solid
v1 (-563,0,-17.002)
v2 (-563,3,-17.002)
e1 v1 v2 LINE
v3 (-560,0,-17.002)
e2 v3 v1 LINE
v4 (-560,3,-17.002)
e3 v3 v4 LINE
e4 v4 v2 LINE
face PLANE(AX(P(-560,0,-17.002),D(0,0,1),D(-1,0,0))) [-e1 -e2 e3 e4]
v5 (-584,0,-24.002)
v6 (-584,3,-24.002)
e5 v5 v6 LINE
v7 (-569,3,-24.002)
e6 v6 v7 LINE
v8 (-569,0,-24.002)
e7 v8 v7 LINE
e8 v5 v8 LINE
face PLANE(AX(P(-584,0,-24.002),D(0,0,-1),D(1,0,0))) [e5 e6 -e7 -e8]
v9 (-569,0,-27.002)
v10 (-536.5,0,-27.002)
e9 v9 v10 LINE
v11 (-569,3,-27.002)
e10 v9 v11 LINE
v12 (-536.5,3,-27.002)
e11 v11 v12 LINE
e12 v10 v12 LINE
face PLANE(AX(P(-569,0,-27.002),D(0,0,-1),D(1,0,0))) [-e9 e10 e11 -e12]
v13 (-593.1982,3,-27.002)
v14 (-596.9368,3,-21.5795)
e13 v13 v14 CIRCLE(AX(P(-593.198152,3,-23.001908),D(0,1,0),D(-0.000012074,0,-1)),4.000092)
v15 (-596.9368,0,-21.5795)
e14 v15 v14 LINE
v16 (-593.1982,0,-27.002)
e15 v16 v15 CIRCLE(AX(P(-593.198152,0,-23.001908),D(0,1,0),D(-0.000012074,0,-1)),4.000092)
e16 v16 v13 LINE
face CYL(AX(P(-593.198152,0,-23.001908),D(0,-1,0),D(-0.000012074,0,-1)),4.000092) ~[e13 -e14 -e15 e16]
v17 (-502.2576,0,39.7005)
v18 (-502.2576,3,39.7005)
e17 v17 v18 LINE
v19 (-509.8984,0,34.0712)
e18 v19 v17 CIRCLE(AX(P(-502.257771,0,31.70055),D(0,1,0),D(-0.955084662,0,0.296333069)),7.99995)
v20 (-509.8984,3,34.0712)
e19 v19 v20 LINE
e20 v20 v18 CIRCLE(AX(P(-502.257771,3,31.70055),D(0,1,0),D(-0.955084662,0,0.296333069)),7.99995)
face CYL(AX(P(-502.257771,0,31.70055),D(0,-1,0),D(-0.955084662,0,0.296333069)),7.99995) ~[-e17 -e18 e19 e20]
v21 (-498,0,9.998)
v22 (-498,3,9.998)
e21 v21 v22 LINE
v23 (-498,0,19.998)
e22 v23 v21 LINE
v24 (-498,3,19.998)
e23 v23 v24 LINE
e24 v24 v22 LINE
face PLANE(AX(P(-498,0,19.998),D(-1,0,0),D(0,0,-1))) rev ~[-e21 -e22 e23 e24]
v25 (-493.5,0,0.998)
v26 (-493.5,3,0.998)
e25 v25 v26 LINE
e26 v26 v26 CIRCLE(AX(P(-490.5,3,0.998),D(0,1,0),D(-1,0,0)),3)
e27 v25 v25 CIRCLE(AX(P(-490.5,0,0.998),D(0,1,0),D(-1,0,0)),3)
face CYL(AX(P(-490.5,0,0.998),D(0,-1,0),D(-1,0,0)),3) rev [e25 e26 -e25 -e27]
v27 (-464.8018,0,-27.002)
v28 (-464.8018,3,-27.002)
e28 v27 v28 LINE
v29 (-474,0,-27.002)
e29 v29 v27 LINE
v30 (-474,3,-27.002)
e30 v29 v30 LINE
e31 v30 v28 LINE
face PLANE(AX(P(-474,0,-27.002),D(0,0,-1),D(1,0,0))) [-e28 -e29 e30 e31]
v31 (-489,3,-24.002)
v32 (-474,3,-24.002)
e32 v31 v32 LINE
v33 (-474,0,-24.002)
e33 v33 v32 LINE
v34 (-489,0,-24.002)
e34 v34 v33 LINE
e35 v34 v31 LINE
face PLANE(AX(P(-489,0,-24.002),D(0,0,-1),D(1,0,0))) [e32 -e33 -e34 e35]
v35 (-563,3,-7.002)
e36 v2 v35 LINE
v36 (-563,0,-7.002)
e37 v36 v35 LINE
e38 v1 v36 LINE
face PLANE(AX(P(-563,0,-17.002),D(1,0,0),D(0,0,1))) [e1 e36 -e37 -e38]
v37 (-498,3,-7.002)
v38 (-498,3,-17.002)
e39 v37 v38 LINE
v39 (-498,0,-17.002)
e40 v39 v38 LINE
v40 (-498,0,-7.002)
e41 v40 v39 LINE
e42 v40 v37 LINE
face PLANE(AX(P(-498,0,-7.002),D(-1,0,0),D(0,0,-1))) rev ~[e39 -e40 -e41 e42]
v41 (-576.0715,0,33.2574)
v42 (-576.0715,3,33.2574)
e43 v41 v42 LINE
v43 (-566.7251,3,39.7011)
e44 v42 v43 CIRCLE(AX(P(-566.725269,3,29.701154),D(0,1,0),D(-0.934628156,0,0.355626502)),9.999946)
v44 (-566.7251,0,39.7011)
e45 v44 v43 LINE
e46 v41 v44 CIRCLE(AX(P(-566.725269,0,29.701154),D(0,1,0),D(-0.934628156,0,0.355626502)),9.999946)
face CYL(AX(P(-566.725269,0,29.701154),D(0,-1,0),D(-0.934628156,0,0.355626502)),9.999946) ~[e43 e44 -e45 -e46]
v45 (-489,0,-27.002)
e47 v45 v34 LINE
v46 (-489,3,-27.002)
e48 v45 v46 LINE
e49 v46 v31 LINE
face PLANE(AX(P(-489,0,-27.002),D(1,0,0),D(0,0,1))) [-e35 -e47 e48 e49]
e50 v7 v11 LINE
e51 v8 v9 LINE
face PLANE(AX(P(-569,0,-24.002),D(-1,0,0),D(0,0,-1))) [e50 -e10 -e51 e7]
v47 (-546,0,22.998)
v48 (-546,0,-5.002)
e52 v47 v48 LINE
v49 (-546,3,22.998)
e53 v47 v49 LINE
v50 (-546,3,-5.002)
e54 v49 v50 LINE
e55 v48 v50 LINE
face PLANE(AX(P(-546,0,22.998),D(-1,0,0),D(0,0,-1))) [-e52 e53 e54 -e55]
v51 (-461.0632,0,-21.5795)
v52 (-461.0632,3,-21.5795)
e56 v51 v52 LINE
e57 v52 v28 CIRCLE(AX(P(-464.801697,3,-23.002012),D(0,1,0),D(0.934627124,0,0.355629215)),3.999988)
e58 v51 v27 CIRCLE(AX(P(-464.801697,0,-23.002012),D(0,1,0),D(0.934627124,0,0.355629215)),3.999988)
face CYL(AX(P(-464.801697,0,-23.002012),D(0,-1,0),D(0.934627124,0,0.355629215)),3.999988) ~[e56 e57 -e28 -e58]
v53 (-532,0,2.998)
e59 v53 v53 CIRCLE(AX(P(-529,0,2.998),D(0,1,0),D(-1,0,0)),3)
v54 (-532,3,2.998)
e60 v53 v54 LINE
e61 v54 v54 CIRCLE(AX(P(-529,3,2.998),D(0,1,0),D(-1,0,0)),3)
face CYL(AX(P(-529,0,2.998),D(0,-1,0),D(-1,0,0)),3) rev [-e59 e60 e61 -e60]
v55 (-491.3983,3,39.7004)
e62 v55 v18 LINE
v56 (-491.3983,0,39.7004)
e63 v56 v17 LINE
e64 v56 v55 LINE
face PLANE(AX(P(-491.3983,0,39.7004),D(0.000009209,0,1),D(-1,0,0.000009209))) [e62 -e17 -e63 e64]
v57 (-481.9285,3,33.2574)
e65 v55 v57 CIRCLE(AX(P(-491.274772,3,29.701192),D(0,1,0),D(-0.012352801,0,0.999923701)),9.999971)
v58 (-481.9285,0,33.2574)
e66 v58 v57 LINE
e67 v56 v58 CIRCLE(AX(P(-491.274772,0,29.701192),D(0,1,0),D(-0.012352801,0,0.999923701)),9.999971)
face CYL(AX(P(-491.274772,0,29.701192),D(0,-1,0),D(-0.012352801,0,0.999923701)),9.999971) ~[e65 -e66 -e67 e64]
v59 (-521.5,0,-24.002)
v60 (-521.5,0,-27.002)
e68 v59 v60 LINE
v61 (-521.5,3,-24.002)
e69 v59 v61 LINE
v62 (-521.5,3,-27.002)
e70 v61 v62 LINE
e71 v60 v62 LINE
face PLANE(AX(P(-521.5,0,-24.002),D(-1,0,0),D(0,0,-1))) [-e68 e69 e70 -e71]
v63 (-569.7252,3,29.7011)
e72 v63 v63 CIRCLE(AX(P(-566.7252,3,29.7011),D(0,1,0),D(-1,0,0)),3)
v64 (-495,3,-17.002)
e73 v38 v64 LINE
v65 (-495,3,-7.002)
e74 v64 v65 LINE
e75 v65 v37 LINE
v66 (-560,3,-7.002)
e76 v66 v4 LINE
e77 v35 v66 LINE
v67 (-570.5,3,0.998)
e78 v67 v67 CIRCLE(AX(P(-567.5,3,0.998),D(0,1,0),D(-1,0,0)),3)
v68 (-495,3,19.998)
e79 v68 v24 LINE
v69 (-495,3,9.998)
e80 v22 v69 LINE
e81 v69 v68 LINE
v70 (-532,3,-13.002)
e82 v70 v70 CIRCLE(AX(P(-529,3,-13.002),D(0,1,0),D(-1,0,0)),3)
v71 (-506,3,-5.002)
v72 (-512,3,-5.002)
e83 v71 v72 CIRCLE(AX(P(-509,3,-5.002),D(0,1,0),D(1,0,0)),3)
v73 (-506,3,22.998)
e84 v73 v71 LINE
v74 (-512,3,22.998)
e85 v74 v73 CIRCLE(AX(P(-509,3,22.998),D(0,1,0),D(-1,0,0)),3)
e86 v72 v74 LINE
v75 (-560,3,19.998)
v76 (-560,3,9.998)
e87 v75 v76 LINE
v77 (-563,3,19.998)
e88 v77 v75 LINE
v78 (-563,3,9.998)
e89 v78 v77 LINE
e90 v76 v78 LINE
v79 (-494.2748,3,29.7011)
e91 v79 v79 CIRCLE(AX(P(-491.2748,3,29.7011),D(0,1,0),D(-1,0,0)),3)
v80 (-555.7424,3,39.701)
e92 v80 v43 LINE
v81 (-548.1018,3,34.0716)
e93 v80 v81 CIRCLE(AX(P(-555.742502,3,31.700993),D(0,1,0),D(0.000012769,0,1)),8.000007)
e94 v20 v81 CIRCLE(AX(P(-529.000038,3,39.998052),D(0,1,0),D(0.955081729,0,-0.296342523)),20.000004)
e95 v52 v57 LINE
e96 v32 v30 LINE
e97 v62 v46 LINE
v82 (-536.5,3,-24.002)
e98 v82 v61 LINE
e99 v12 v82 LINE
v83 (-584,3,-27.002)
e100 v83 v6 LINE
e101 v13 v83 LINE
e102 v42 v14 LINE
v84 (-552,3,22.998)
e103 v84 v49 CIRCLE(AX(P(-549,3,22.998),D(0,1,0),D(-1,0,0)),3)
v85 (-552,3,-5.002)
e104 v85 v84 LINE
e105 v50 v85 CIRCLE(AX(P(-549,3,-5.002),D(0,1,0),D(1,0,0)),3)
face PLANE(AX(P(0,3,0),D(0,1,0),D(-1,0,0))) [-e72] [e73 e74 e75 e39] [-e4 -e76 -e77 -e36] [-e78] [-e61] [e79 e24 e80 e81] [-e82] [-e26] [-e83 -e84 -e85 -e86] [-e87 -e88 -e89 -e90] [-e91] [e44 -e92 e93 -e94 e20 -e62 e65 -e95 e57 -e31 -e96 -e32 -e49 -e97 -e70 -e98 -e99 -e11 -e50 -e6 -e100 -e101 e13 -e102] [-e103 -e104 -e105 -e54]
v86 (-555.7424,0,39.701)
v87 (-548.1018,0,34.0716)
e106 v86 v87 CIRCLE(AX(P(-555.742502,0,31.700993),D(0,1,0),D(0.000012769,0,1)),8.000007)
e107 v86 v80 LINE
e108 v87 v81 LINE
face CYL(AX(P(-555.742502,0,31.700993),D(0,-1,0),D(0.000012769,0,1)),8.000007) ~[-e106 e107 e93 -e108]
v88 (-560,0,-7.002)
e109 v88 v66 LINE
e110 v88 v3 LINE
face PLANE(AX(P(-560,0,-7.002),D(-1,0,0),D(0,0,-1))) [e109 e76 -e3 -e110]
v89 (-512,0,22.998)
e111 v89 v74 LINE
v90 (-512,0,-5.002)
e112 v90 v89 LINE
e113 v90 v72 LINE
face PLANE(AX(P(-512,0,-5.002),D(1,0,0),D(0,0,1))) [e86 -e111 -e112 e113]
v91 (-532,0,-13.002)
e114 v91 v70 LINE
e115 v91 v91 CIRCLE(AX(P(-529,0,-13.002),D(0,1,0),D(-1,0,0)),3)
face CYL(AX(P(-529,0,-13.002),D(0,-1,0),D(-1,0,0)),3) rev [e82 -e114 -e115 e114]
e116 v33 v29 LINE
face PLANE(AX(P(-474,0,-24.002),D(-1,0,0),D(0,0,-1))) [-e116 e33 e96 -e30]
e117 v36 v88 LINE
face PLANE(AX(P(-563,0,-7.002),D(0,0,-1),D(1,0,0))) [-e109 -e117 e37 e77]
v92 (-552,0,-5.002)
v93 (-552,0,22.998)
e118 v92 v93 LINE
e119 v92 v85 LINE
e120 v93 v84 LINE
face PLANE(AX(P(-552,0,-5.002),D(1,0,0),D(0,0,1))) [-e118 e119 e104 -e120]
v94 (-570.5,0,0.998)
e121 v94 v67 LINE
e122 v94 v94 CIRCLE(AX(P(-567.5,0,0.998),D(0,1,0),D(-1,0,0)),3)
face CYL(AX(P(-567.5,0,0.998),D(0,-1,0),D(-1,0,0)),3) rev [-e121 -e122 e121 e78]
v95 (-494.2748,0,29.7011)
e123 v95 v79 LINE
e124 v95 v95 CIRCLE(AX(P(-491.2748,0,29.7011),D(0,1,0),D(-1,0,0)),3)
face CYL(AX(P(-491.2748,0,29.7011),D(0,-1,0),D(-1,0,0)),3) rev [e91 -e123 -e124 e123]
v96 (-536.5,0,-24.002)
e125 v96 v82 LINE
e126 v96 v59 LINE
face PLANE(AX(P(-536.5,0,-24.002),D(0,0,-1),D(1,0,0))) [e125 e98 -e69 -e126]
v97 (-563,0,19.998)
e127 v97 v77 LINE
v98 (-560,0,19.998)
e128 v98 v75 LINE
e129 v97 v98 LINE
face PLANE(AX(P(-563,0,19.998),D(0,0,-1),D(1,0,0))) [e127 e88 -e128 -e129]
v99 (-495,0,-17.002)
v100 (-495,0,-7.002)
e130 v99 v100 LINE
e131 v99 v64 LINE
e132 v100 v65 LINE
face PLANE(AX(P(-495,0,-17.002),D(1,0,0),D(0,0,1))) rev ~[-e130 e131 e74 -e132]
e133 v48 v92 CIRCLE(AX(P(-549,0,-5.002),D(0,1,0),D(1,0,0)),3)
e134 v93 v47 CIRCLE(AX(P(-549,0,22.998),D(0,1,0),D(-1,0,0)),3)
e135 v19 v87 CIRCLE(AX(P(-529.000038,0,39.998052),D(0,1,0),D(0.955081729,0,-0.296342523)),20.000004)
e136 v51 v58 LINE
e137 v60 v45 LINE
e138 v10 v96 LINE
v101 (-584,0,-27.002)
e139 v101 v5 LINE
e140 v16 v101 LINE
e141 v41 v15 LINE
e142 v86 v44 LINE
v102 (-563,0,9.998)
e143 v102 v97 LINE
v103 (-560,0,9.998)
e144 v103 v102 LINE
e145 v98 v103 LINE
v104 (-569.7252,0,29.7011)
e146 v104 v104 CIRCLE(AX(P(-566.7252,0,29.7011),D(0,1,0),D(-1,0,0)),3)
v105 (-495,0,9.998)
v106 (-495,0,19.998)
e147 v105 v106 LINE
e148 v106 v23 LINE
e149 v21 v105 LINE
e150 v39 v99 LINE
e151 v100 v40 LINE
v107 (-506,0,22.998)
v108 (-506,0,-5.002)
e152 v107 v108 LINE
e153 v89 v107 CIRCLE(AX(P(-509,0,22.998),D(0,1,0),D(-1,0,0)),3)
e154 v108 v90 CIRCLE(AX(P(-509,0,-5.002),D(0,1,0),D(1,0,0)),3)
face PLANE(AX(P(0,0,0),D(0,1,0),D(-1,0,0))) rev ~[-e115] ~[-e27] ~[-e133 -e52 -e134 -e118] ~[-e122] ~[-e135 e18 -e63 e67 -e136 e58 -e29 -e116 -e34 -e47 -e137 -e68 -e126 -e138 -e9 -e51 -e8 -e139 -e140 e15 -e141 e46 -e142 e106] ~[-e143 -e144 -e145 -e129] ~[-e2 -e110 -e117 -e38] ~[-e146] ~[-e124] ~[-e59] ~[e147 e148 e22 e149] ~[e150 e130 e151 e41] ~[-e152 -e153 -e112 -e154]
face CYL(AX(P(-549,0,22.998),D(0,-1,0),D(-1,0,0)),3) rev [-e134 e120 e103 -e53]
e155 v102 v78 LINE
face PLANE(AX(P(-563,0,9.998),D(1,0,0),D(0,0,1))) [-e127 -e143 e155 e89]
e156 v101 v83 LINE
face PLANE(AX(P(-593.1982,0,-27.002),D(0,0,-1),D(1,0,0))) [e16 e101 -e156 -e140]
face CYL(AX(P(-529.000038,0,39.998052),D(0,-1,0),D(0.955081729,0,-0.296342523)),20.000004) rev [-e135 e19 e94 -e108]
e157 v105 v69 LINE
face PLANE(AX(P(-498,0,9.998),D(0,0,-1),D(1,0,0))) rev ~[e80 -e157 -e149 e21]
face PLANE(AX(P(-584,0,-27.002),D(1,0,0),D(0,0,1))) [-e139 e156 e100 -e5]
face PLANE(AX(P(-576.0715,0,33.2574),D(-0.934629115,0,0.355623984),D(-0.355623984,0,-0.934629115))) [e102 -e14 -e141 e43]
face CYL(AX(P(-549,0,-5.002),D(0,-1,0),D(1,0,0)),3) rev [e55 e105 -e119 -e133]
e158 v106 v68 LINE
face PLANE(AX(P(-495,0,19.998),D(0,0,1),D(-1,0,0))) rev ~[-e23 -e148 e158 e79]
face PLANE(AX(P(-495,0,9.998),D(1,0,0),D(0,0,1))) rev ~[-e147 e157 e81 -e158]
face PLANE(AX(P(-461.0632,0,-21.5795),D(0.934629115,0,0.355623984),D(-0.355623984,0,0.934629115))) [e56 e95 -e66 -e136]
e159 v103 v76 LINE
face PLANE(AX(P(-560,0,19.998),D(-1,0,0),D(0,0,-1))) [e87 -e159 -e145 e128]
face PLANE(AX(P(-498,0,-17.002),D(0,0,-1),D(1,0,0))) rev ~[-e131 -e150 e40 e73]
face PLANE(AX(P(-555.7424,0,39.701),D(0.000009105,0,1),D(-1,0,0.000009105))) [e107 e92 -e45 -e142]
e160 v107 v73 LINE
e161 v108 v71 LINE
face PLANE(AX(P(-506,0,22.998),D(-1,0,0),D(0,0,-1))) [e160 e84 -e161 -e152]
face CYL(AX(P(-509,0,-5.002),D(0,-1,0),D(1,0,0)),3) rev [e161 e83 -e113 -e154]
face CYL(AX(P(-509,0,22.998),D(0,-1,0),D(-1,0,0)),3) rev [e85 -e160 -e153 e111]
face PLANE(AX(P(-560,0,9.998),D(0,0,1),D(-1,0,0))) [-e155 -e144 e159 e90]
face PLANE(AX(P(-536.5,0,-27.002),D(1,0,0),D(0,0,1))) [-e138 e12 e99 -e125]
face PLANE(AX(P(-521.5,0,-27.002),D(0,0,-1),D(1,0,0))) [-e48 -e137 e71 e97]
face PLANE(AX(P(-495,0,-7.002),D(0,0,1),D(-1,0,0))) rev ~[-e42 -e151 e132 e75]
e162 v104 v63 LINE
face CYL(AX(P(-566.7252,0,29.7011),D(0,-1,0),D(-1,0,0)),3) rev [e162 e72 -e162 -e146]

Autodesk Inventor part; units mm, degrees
ref_plane "YZ Plane" through (0, 0, 0) normal (1, 0, 0) x (0, 1, 0)
ref_plane "XZ Plane" through (0, 0, 0) normal (0, 1, 0) x (-1, 0, 0)
ref_plane "XY Plane" through (0, 0, 0) normal (0, 0, 1) x (1, 0, 0)
sketch "Sketch2" plane through (0, 0, 0) normal (0, 1, 0) x (-1, 0, 0)
  line L0 (600, 68.7059) -> (634, 68.7059)
  arc A0 (642, 60.7059) -> (634, 68.7059) centre (634, 60.7059) ccw
  line L1 (642, 60.7059) -> (642, 56.7059)
  arc A1 (634, 48.7059) -> (642, 56.7059) centre (634, 56.7059) ccw
  line L2 (634, 48.7059) -> (632, 48.7059)
  arc A2 (632, 48.7059) -> (624, 40.7059) centre (632, 40.7059) ccw
  line L3 (624, 40.7059) -> (624, 36.7059)
  arc A3 (624, 36.7059) -> (632, 28.7059) centre (632, 36.7059) ccw
  line L4 (632, 28.7059) -> (634, 28.7059)
  arc A4 (642, 20.7059) -> (634, 28.7059) centre (634, 20.7059) ccw
  line L5 (642, 20.7059) -> (642, 16.7059)
  arc A5 (634, 8.7059) -> (642, 16.7059) centre (634, 16.7059) ccw
  line L6 (634, 8.7059) -> (600, 8.7059)
  arc A6 (592, 16.7059) -> (600, 8.7059) centre (600, 16.7059) ccw
  line L7 (592, 16.7059) -> (592, 21.7059)
  line L8 (592, 21.7059) -> (606.1716, 35.8774)
  arc A7 (606.1716, 35.8774) -> (606.1716, 41.5343) centre (603.3431, 38.7059) ccw
  line L9 (606.1716, -97.5343) -> (592, -111.7059)
  line L10 (592, -111.7059) -> (592, -116.7059)
  arc A8 (592, -116.7059) -> (600, -124.7059) centre (600, -116.7059) ccw
  line L11 (600, -124.7059) -> (634, -124.7059)
  arc A9 (634, -124.7059) -> (642, -116.7059) centre (634, -116.7059) ccw
  line L12 (642, -116.7059) -> (642, -112.7059)
  arc A10 (642, -112.7059) -> (634, -104.7059) centre (634, -112.7059) ccw
  line L13 (634, -104.7059) -> (632, -104.7059)
  arc A11 (624, -96.7059) -> (632, -104.7059) centre (632, -96.7059) ccw
  line L14 (624, -96.7059) -> (624, -92.7059)
  arc A12 (632, -84.7059) -> (624, -92.7059) centre (632, -92.7059) ccw
  line L15 (632, -84.7059) -> (634, -84.7059)
  arc A13 (634, -84.7059) -> (642, -76.7059) centre (634, -76.7059) ccw
  line L16 (642, -76.7059) -> (642, -72.7059)
  arc A14 (642, -72.7059) -> (634, -64.7059) centre (634, -72.7059) ccw
  line L17 (634, -64.7059) -> (600, -64.7059)
  arc A15 (600, -64.7059) -> (592, -72.7059) centre (600, -72.7059) ccw
  line L18 (592, -72.7059) -> (592, -77.7059)
  line L19 (592, -77.7059) -> (606.1716, -91.8774)
  arc A16 (606.1716, -97.5343) -> (606.1716, -91.8774) centre (603.3431, -94.7059) ccw
  circle A17 centre (618, -74.7059) radius 3
  circle A18 centre (634, -74.7059) radius 3
  circle A19 centre (634, -114.7059) radius 3
  circle A20 centre (618, -114.7059) radius 3
  circle A21 centre (618, 58.7059) radius 3
  circle A22 centre (634, 58.7059) radius 3
  circle A23 centre (634, 18.7059) radius 3
  circle A24 centre (618, 18.7059) radius 3
  line L20 (606.1716, 41.5343) -> (592, 55.7059)
  line L21 (592, 55.7059) -> (592, 60.7059)
  arc A25 (600, 68.7059) -> (592, 60.7059) centre (600, 60.7059) ccw
  line L22 (329, -137) -> (729, -137)
  line L23 (729, -137) -> (729, 83)
  line L24 (729, 83) -> (329, 83)
  line L25 (329, 83) -> (329, -137)
  line L26 (444, -107.4043) -> (417.5, -107.4043)
  line L27 (417.5, -107.4043) -> (417.5, -104.4043)
  line L28 (417.5, -104.4043) -> (450, -104.4043)
  line L29 (450, -104.4043) -> (450, -107.4043)
  line L30 (450, -107.4043) -> (444, -107.4043)
  line L31 (441, -117.9043) -> (444, -117.9043)
  line L32 (444, -117.9043) -> (444, -110.9043)
  line L33 (444, -110.9043) -> (441, -110.9043)
  line L34 (441, -110.9043) -> (441, -117.9043)
  line L35 (417.5, -121.4043) -> (417.5, -124.4043)
  line L36 (417.5, -124.4043) -> (450, -124.4043)
  line L37 (450, -124.4043) -> (450, -121.4043)
  line L38 (450, -121.4043) -> (417.5, -121.4043)
  line L39 (376.0002, -107.4043) -> (402.5, -107.4043)
  line L40 (402.5, -107.4043) -> (402.5, -104.4043)
  line L41 (402.5, -104.4043) -> (370, -104.4043)
  line L42 (370, -104.4043) -> (370, -107.4043)
  line L43 (370, -107.4043) -> (376.0002, -107.4043)
  line L44 (379.0002, -121.4043) -> (370, -121.4043)
  line L45 (370, -121.4043) -> (370, -124.4043)
  line L46 (370, -124.4043) -> (402.5, -124.4043)
  line L47 (402.5, -124.4043) -> (402.5, -121.4043)
  line L48 (402.5, -121.4043) -> (379.0002, -121.4043)
  line L49 (379.0002, -117.9043) -> (376.0002, -117.9043)
  line L50 (376.0002, -117.9043) -> (376.0002, -110.9043)
  line L51 (376.0002, -110.9043) -> (379.0002, -110.9043)
  line L52 (379.0002, -110.9043) -> (379.0002, -117.9043)
  line L53 (348, -127) -> (472.0002, -127)
  line L54 (472.0002, -127) -> (472.0002, -124.4043)
  line L55 (472.0002, -124.4043) -> (465, -124.4043)
  line L56 (465, -124.4043) -> (465, -121.4043)
  line L57 (465, -121.4043) -> (472.0002, -121.4043)
  line L58 (472.0002, -121.4043) -> (472.0002, -107.4043)
  line L59 (472.0002, -107.4043) -> (465, -107.4043)
  line L60 (465, -107.4043) -> (465, -104.4043)
  line L61 (465, -104.4043) -> (472.0002, -104.4043)
  line L62 (472.0002, -104.4043) -> (472.0002, -101)
  line L63 (472.0002, -101) -> (348, -101)
  line L64 (348, -101) -> (348, -104.4043)
  line L65 (348, -104.4043) -> (355, -104.4043)
  line L66 (355, -104.4043) -> (355, -107.4043)
  line L67 (355, -107.4043) -> (348, -107.4043)
  line L68 (348, -107.4043) -> (348, -121.4043)
  line L69 (348, -121.4043) -> (355, -121.4043)
  line L70 (355, -121.4043) -> (355, -124.4043)
  line L71 (355, -124.4043) -> (348, -124.4043)
  line L72 (348, -124.4043) -> (348, -127)
  circle A26 centre (447.7252, -37.7011) radius 3
  circle A27 centre (372.2748, -37.7011) radius 3
  circle A28 centre (410, -64.4043) radius 3
  circle A29 centre (448.5, -66.4043) radius 3
  circle A30 centre (371.5, -66.4043) radius 3
  circle A31 centre (410, -80.4043) radius 3
  line L73 (379, -84.4043) -> (376, -84.4043)
  line L74 (376, -84.4043) -> (376, -74.4043)
  line L75 (376, -74.4043) -> (379, -74.4043)
  line L76 (379, -74.4043) -> (379, -84.4043)
  line L77 (379, -57.4043) -> (376, -57.4043)
  line L78 (376, -57.4043) -> (376, -47.4043)
  line L79 (376, -47.4043) -> (379, -47.4043)
  line L80 (379, -47.4043) -> (379, -57.4043)
  line L81 (441, -47.4043) -> (441, -57.4043)
  line L82 (441, -57.4043) -> (444, -57.4043)
  line L83 (444, -57.4043) -> (444, -47.4043)
  line L84 (444, -47.4043) -> (441, -47.4043)
  line L85 (441, -74.4043) -> (441, -84.4043)
  line L86 (441, -84.4043) -> (444, -84.4043)
  line L87 (444, -84.4043) -> (444, -74.4043)
  line L88 (444, -74.4043) -> (441, -74.4043)
  line L89 (427, -44.4043) -> (427, -72.4043)
  arc A32 (427, -72.4043) -> (433, -72.4043) centre (430, -72.4043) ccw
  line L90 (433, -72.4043) -> (433, -44.4043)
  arc A33 (433, -44.4043) -> (427, -44.4043) centre (430, -44.4043) ccw
  arc A34 (387, -72.4043) -> (393, -72.4043) centre (390, -72.4043) ccw
  line L91 (393, -72.4043) -> (393, -44.4043)
  arc A35 (393, -44.4043) -> (387, -44.4043) centre (390, -44.4043) ccw
  line L92 (387, -44.4043) -> (387, -72.4043)
  line L93 (372.3983, -27.7019) -> (383.2576, -27.7018)
  arc A36 (390.8984, -33.3311) -> (383.2576, -27.7018) centre (383.2577, -35.7018) ccw
  arc A37 (390.8984, -33.3311) -> (429.1018, -33.3307) centre (410, -27.4043) ccw
  arc A38 (436.7424, -27.7012) -> (429.1018, -33.3307) centre (436.7425, -35.7012) ccw
  line L94 (436.7424, -27.7012) -> (447.7251, -27.7011)
  arc A39 (457.0715, -34.1449) -> (447.7251, -27.7011) centre (447.7252, -37.7011) ccw
  line L95 (457.0715, -34.1449) -> (477.9368, -88.9818)
  arc A40 (474.1982, -94.4043) -> (477.9368, -88.9818) centre (474.1982, -90.4043) ccw
  line L96 (474.1982, -94.4043) -> (465, -94.4043)
  line L97 (465, -94.4043) -> (465, -91.4043)
  line L98 (465, -91.4043) -> (450, -91.4043)
  line L99 (450, -91.4043) -> (450, -94.4043)
  line L100 (450, -94.4043) -> (417.5, -94.4043)
  line L101 (417.5, -94.4043) -> (417.5, -91.4043)
  line L102 (417.5, -91.4043) -> (402.5, -91.4043)
  line L103 (402.5, -91.4043) -> (402.5, -94.4043)
  line L104 (402.5, -94.4043) -> (370, -94.4043)
  line L105 (370, -94.4043) -> (370, -91.4043)
  line L106 (370, -91.4043) -> (355, -91.4043)
  line L107 (355, -91.4043) -> (355, -94.4043)
  line L108 (355, -94.4043) -> (345.8018, -94.4043)
  arc A41 (342.0632, -88.9818) -> (345.8018, -94.4043) centre (345.8018, -90.4043) ccw
  line L109 (342.0632, -88.9818) -> (362.9285, -34.1449)
  arc A42 (372.3983, -27.7019) -> (362.9285, -34.1449) centre (372.2748, -37.7011) ccw
  line L110 (491.3983, -95.7004) -> (502.2576, -95.7005)
  arc A43 (502.2576, -95.7005) -> (509.8984, -90.0712) centre (502.2577, -87.7005) ccw
  arc A44 (548.1018, -90.0716) -> (509.8984, -90.0712) centre (529, -95.998) ccw
  arc A45 (548.1018, -90.0716) -> (555.7424, -95.701) centre (555.7425, -87.701) ccw
  line L111 (555.7424, -95.701) -> (566.7251, -95.7011)
  arc A46 (566.7251, -95.7011) -> (576.0715, -89.2574) centre (566.7252, -85.7011) ccw
  line L112 (576.0715, -89.2574) -> (596.9368, -34.4205)
  arc A47 (596.9368, -34.4205) -> (593.1982, -28.998) centre (593.1982, -32.998) ccw
  line L113 (593.1982, -28.998) -> (584, -28.998)
  line L114 (584, -28.998) -> (584, -31.998)
  line L115 (584, -31.998) -> (569, -31.998)
  line L116 (569, -31.998) -> (569, -28.998)
  line L117 (569, -28.998) -> (536.5, -28.998)
  line L118 (536.5, -28.998) -> (536.5, -31.998)
  line L119 (536.5, -31.998) -> (521.5, -31.998)
  line L120 (521.5, -31.998) -> (521.5, -28.998)
  line L121 (521.5, -28.998) -> (489, -28.998)
  line L122 (489, -28.998) -> (489, -31.998)
  line L123 (489, -31.998) -> (474, -31.998)
  line L124 (474, -31.998) -> (474, -28.998)
  line L125 (474, -28.998) -> (464.8018, -28.998)
  arc A48 (464.8018, -28.998) -> (461.0632, -34.4205) centre (464.8018, -32.998) ccw
  line L126 (461.0632, -34.4205) -> (481.9285, -89.2574)
  arc A49 (481.9285, -89.2574) -> (491.3983, -95.7004) centre (491.2748, -85.7011) ccw
  arc A50 (512, -50.998) -> (506, -50.998) centre (509, -50.998) ccw
  line L127 (512, -50.998) -> (512, -78.998)
  arc A51 (506, -78.998) -> (512, -78.998) centre (509, -78.998) ccw
  line L128 (506, -78.998) -> (506, -50.998)
  line L129 (546, -78.998) -> (546, -50.998)
  arc A52 (552, -50.998) -> (546, -50.998) centre (549, -50.998) ccw
  line L130 (552, -50.998) -> (552, -78.998)
  arc A53 (546, -78.998) -> (552, -78.998) centre (549, -78.998) ccw
  line L131 (560, -48.998) -> (560, -38.998)
  line L132 (560, -38.998) -> (563, -38.998)
  line L133 (563, -38.998) -> (563, -48.998)
  line L134 (563, -48.998) -> (560, -48.998)
  line L135 (560, -75.998) -> (560, -65.998)
  line L136 (560, -65.998) -> (563, -65.998)
  line L137 (563, -65.998) -> (563, -75.998)
  line L138 (563, -75.998) -> (560, -75.998)
  line L139 (498, -65.998) -> (495, -65.998)
  line L140 (495, -65.998) -> (495, -75.998)
  line L141 (495, -75.998) -> (498, -75.998)
  line L142 (498, -75.998) -> (498, -65.998)
  line L143 (498, -38.998) -> (495, -38.998)
  line L144 (495, -38.998) -> (495, -48.998)
  line L145 (495, -48.998) -> (498, -48.998)
  line L146 (498, -48.998) -> (498, -38.998)
  circle A54 centre (529, -42.998) radius 3
  circle A55 centre (490.5, -56.998) radius 3
  circle A56 centre (567.5, -56.998) radius 3
  circle A57 centre (529, -58.998) radius 3
  circle A58 centre (491.2748, -85.7011) radius 3
  circle A59 centre (566.7252, -85.7011) radius 3
  circle A60 centre (462, -114.4043) radius 3
  circle A61 centre (358.0002, -114.4043) radius 3
  line L147 (578, -104.4043) -> (578, -107.4043)
  line L148 (578, -107.4043) -> (585, -107.4043)
  line L149 (585, -107.4043) -> (585, -110.9043)
  line L150 (585, -110.9043) -> (588, -110.9043)
  line L151 (588, -110.9043) -> (588, -117.9043)
  line L152 (588, -117.9043) -> (585, -117.9043)
  line L153 (585, -117.9043) -> (585, -121.4043)
  line L154 (585, -121.4043) -> (578, -121.4043)
  line L155 (578, -121.4043) -> (578, -124.4043)
  line L156 (578, -124.4043) -> (568, -124.4043)
  line L157 (568, -124.4043) -> (568, -121.4043)
  line L158 (568, -121.4043) -> (551, -121.4043)
  line L159 (551, -121.4043) -> (551, -124.4043)
  line L160 (551, -124.4043) -> (541, -124.4043)
  line L161 (541, -124.4043) -> (541, -121.4043)
  line L162 (541, -121.4043) -> (535, -121.4043)
  line L163 (535, -121.4043) -> (535, -107.4043)
  line L164 (535, -107.4043) -> (541, -107.4043)
  line L165 (541, -107.4043) -> (541, -104.4043)
  line L166 (541, -104.4043) -> (551, -104.4043)
  line L167 (551, -104.4043) -> (551, -107.4043)
  line L168 (551, -107.4043) -> (568, -107.4043)
  line L169 (568, -107.4043) -> (568, -104.4043)
  line L170 (568, -104.4043) -> (578, -104.4043)
  line L171 (520, -104.4043) -> (520, -107.4043)
  line L172 (520, -107.4043) -> (527, -107.4043)
  line L173 (527, -107.4043) -> (527, -110.9043)
  line L174 (527, -110.9043) -> (530, -110.9043)
  line L175 (530, -110.9043) -> (530, -117.9043)
  line L176 (530, -117.9043) -> (527, -117.9043)
  line L177 (527, -117.9043) -> (527, -121.4043)
  line L178 (527, -121.4043) -> (520, -121.4043)
  line L179 (520, -121.4043) -> (520, -124.4043)
  line L180 (520, -124.4043) -> (510, -124.4043)
  line L181 (510, -124.4043) -> (510, -121.4043)
  line L182 (510, -121.4043) -> (493, -121.4043)
  line L183 (493, -121.4043) -> (493, -124.4043)
  line L184 (493, -124.4043) -> (483, -124.4043)
  line L185 (483, -124.4043) -> (483, -121.4043)
  line L186 (483, -121.4043) -> (477, -121.4043)
  line L187 (477, -121.4043) -> (477, -107.4043)
  line L188 (477, -107.4043) -> (483, -107.4043)
  line L189 (483, -107.4043) -> (483, -104.4043)
  line L190 (483, -104.4043) -> (493, -104.4043)
  line L191 (493, -104.4043) -> (493, -107.4043)
  line L192 (493, -107.4043) -> (510, -107.4043)
  line L193 (510, -107.4043) -> (510, -104.4043)
  line L194 (510, -104.4043) -> (520, -104.4043)
  line L195 (520, 48.4043) -> (520, 51.4043)
  line L196 (520, 51.4043) -> (527, 51.4043)
  line L197 (527, 51.4043) -> (527, 54.9043)
  line L198 (527, 54.9043) -> (530, 54.9043)
  line L199 (530, 54.9043) -> (530, 61.9043)
  line L200 (530, 61.9043) -> (527, 61.9043)
  line L201 (527, 61.9043) -> (527, 65.4043)
  line L202 (527, 65.4043) -> (520, 65.4043)
  line L203 (520, 65.4043) -> (520, 68.4043)
  line L204 (520, 68.4043) -> (510, 68.4043)
  line L205 (510, 68.4043) -> (510, 65.4043)
  line L206 (510, 65.4043) -> (493, 65.4043)
  line L207 (493, 65.4043) -> (493, 68.4043)
  line L208 (493, 68.4043) -> (483, 68.4043)
  line L209 (483, 68.4043) -> (483, 65.4043)
  line L210 (483, 65.4043) -> (477, 65.4043)
  line L211 (477, 65.4043) -> (477, 51.4043)
  line L212 (477, 51.4043) -> (483, 51.4043)
  line L213 (483, 51.4043) -> (483, 48.4043)
  line L214 (483, 48.4043) -> (493, 48.4043)
  line L215 (493, 48.4043) -> (493, 51.4043)
  line L216 (493, 51.4043) -> (510, 51.4043)
  line L217 (510, 51.4043) -> (510, 48.4043)
  line L218 (510, 48.4043) -> (520, 48.4043)
  line L219 (578, 48.4043) -> (578, 51.4043)
  line L220 (578, 51.4043) -> (585, 51.4043)
  line L221 (585, 51.4043) -> (585, 54.9043)
  line L222 (585, 54.9043) -> (588, 54.9043)
  line L223 (588, 54.9043) -> (588, 61.9043)
  line L224 (588, 61.9043) -> (585, 61.9043)
  line L225 (585, 61.9043) -> (585, 65.4043)
  line L226 (585, 65.4043) -> (578, 65.4043)
  line L227 (578, 65.4043) -> (578, 68.4043)
  line L228 (578, 68.4043) -> (568, 68.4043)
  line L229 (568, 68.4043) -> (568, 65.4043)
  line L230 (568, 65.4043) -> (551, 65.4043)
  line L231 (551, 65.4043) -> (551, 68.4043)
  line L232 (551, 68.4043) -> (541, 68.4043)
  line L233 (541, 68.4043) -> (541, 65.4043)
  line L234 (541, 65.4043) -> (535, 65.4043)
  line L235 (535, 65.4043) -> (535, 51.4043)
  line L236 (535, 51.4043) -> (541, 51.4043)
  line L237 (541, 51.4043) -> (541, 48.4043)
  line L238 (541, 48.4043) -> (551, 48.4043)
  line L239 (551, 48.4043) -> (551, 51.4043)
  line L240 (551, 51.4043) -> (568, 51.4043)
  line L241 (568, 51.4043) -> (568, 48.4043)
  line L242 (568, 48.4043) -> (578, 48.4043)
  circle A62 centre (358.0002, 58.4043) radius 3
  circle A63 centre (462, 58.4043) radius 3
  circle A64 centre (566.7252, 29.7011) radius 3
  circle A65 centre (491.2748, 29.7011) radius 3
  circle A66 centre (529, 2.998) radius 3
  circle A67 centre (567.5, 0.998) radius 3
  circle A68 centre (490.5, 0.998) radius 3
  circle A69 centre (529, -13.002) radius 3
  line L243 (498, -17.002) -> (495, -17.002)
  line L244 (495, -17.002) -> (495, -7.002)
  line L245 (495, -7.002) -> (498, -7.002)
  line L246 (498, -7.002) -> (498, -17.002)
  line L247 (498, 9.998) -> (495, 9.998)
  line L248 (495, 9.998) -> (495, 19.998)
  line L249 (495, 19.998) -> (498, 19.998)
  line L250 (498, 19.998) -> (498, 9.998)
  line L251 (560, 19.998) -> (560, 9.998)
  line L252 (560, 9.998) -> (563, 9.998)
  line L253 (563, 9.998) -> (563, 19.998)
  line L254 (563, 19.998) -> (560, 19.998)
  line L255 (560, -7.002) -> (560, -17.002)
  line L256 (560, -17.002) -> (563, -17.002)
  line L257 (563, -17.002) -> (563, -7.002)
  line L258 (563, -7.002) -> (560, -7.002)
  line L259 (546, 22.998) -> (546, -5.002)
  arc A70 (546, -5.002) -> (552, -5.002) centre (549, -5.002) ccw
  line L260 (552, -5.002) -> (552, 22.998)
  arc A71 (552, 22.998) -> (546, 22.998) centre (549, 22.998) ccw
  arc A72 (506, -5.002) -> (512, -5.002) centre (509, -5.002) ccw
  line L261 (512, -5.002) -> (512, 22.998)
  arc A73 (512, 22.998) -> (506, 22.998) centre (509, 22.998) ccw
  line L262 (506, 22.998) -> (506, -5.002)
  line L263 (491.3983, 39.7004) -> (502.2576, 39.7005)
  arc A74 (509.8984, 34.0712) -> (502.2576, 39.7005) centre (502.2577, 31.7005) ccw
  arc A75 (509.8984, 34.0712) -> (548.1018, 34.0716) centre (529, 39.998) ccw
  arc A76 (555.7424, 39.701) -> (548.1018, 34.0716) centre (555.7425, 31.701) ccw
  line L264 (555.7424, 39.701) -> (566.7251, 39.7011)
  arc A77 (576.0715, 33.2574) -> (566.7251, 39.7011) centre (566.7252, 29.7011) ccw
  line L265 (576.0715, 33.2574) -> (596.9368, -21.5795)
  arc A78 (593.1982, -27.002) -> (596.9368, -21.5795) centre (593.1982, -23.002) ccw
  line L266 (593.1982, -27.002) -> (584, -27.002)
  line L267 (584, -27.002) -> (584, -24.002)
  line L268 (584, -24.002) -> (569, -24.002)
  line L269 (569, -24.002) -> (569, -27.002)
  line L270 (569, -27.002) -> (536.5, -27.002)
  line L271 (536.5, -27.002) -> (536.5, -24.002)
  line L272 (536.5, -24.002) -> (521.5, -24.002)
  line L273 (521.5, -24.002) -> (521.5, -27.002)
  line L274 (521.5, -27.002) -> (489, -27.002)
  line L275 (489, -27.002) -> (489, -24.002)
  line L276 (489, -24.002) -> (474, -24.002)
  line L277 (474, -24.002) -> (474, -27.002)
  line L278 (474, -27.002) -> (464.8018, -27.002)
  arc A79 (461.0632, -21.5795) -> (464.8018, -27.002) centre (464.8018, -23.002) ccw
  line L279 (461.0632, -21.5795) -> (481.9285, 33.2574)
  arc A80 (491.3983, 39.7004) -> (481.9285, 33.2574) centre (491.2748, 29.7011) ccw
  line L280 (372.3983, -28.2981) -> (383.2576, -28.2982)
  arc A81 (383.2576, -28.2982) -> (390.8984, -22.6689) centre (383.2577, -20.2982) ccw
  arc A82 (429.1018, -22.6693) -> (390.8984, -22.6689) centre (410, -28.5957) ccw
  arc A83 (429.1018, -22.6693) -> (436.7424, -28.2988) centre (436.7425, -20.2988) ccw
  line L281 (436.7424, -28.2988) -> (447.7251, -28.2989)
  arc A84 (447.7251, -28.2989) -> (457.0715, -21.8551) centre (447.7252, -18.2989) ccw
  line L282 (457.0715, -21.8551) -> (477.9368, 32.9818)
  arc A85 (477.9368, 32.9818) -> (474.1982, 38.4043) centre (474.1982, 34.4043) ccw
  line L283 (474.1982, 38.4043) -> (465, 38.4043)
  line L284 (465, 38.4043) -> (465, 35.4043)
  line L285 (465, 35.4043) -> (450, 35.4043)
  line L286 (450, 35.4043) -> (450, 38.4043)
  line L287 (450, 38.4043) -> (417.5, 38.4043)
  line L288 (417.5, 38.4043) -> (417.5, 35.4043)
  line L289 (417.5, 35.4043) -> (402.5, 35.4043)
  line L290 (402.5, 35.4043) -> (402.5, 38.4043)
  line L291 (402.5, 38.4043) -> (370, 38.4043)
  line L292 (370, 38.4043) -> (370, 35.4043)
  line L293 (370, 35.4043) -> (355, 35.4043)
  line L294 (355, 35.4043) -> (355, 38.4043)
  line L295 (355, 38.4043) -> (345.8018, 38.4043)
  arc A86 (345.8018, 38.4043) -> (342.0632, 32.9818) centre (345.8018, 34.4043) ccw
  line L296 (342.0632, 32.9818) -> (362.9285, -21.8551)
  arc A87 (362.9285, -21.8551) -> (372.3983, -28.2981) centre (372.2748, -18.2989) ccw
  arc A88 (393, 16.4043) -> (387, 16.4043) centre (390, 16.4043) ccw
  line L297 (393, 16.4043) -> (393, -11.5957)
  arc A89 (387, -11.5957) -> (393, -11.5957) centre (390, -11.5957) ccw
  line L298 (387, -11.5957) -> (387, 16.4043)
  line L299 (427, -11.5957) -> (427, 16.4043)
  arc A90 (433, 16.4043) -> (427, 16.4043) centre (430, 16.4043) ccw
  line L300 (433, 16.4043) -> (433, -11.5957)
  arc A91 (427, -11.5957) -> (433, -11.5957) centre (430, -11.5957) ccw
  line L301 (441, 18.4043) -> (441, 28.4043)
  line L302 (441, 28.4043) -> (444, 28.4043)
  line L303 (444, 28.4043) -> (444, 18.4043)
  line L304 (444, 18.4043) -> (441, 18.4043)
  line L305 (441, -8.5957) -> (441, 1.4043)
  line L306 (441, 1.4043) -> (444, 1.4043)
  line L307 (444, 1.4043) -> (444, -8.5957)
  line L308 (444, -8.5957) -> (441, -8.5957)
  line L309 (379, 1.4043) -> (376, 1.4043)
  line L310 (376, 1.4043) -> (376, -8.5957)
  line L311 (376, -8.5957) -> (379, -8.5957)
  line L312 (379, -8.5957) -> (379, 1.4043)
  line L313 (379, 28.4043) -> (376, 28.4043)
  line L314 (376, 28.4043) -> (376, 18.4043)
  line L315 (376, 18.4043) -> (379, 18.4043)
  line L316 (379, 18.4043) -> (379, 28.4043)
  circle A92 centre (410, 24.4043) radius 3
  circle A93 centre (371.5, 10.4043) radius 3
  circle A94 centre (448.5, 10.4043) radius 3
  circle A95 centre (410, 8.4043) radius 3
  circle A96 centre (372.2748, -18.2989) radius 3
  circle A97 centre (447.7252, -18.2989) radius 3
  line L317 (348, 71) -> (472.0002, 71)
  line L318 (472.0002, 71) -> (472.0002, 68.4043)
  line L319 (472.0002, 68.4043) -> (465, 68.4043)
  line L320 (465, 68.4043) -> (465, 65.4043)
  line L321 (465, 65.4043) -> (472.0002, 65.4043)
  line L322 (472.0002, 65.4043) -> (472.0002, 51.4043)
  line L323 (472.0002, 51.4043) -> (465, 51.4043)
  line L324 (465, 51.4043) -> (465, 48.4043)
  line L325 (465, 48.4043) -> (472.0002, 48.4043)
  line L326 (472.0002, 48.4043) -> (472.0002, 45)
  line L327 (472.0002, 45) -> (348, 45)
  line L328 (348, 45) -> (348, 48.4043)
  line L329 (348, 48.4043) -> (355, 48.4043)
  line L330 (355, 48.4043) -> (355, 51.4043)
  line L331 (355, 51.4043) -> (348, 51.4043)
  line L332 (348, 51.4043) -> (348, 65.4043)
  line L333 (348, 65.4043) -> (355, 65.4043)
  line L334 (355, 65.4043) -> (355, 68.4043)
  line L335 (355, 68.4043) -> (348, 68.4043)
  line L336 (348, 68.4043) -> (348, 71)
  line L337 (379.0002, 61.9043) -> (376.0002, 61.9043)
  line L338 (376.0002, 61.9043) -> (376.0002, 54.9043)
  line L339 (376.0002, 54.9043) -> (379.0002, 54.9043)
  line L340 (379.0002, 54.9043) -> (379.0002, 61.9043)
  line L341 (379.0002, 65.4043) -> (370, 65.4043)
  line L342 (370, 65.4043) -> (370, 68.4043)
  line L343 (370, 68.4043) -> (402.5, 68.4043)
  line L344 (402.5, 68.4043) -> (402.5, 65.4043)
  line L345 (402.5, 65.4043) -> (379.0002, 65.4043)
  line L346 (376.0002, 51.4043) -> (402.5, 51.4043)
  line L347 (402.5, 51.4043) -> (402.5, 48.4043)
  line L348 (402.5, 48.4043) -> (370, 48.4043)
  line L349 (370, 48.4043) -> (370, 51.4043)
  line L350 (370, 51.4043) -> (376.0002, 51.4043)
  line L351 (417.5, 65.4043) -> (417.5, 68.4043)
  line L352 (417.5, 68.4043) -> (450, 68.4043)
  line L353 (450, 68.4043) -> (450, 65.4043)
  line L354 (450, 65.4043) -> (417.5, 65.4043)
  line L355 (441, 61.9043) -> (444, 61.9043)
  line L356 (444, 61.9043) -> (444, 54.9043)
  line L357 (444, 54.9043) -> (441, 54.9043)
  line L358 (441, 54.9043) -> (441, 61.9043)
  line L359 (444, 51.4043) -> (417.5, 51.4043)
  line L360 (417.5, 51.4043) -> (417.5, 48.4043)
  line L361 (417.5, 48.4043) -> (450, 48.4043)
  line L362 (450, 48.4043) -> (450, 51.4043)
  line L363 (450, 51.4043) -> (444, 51.4043)
  line L364 (672, -101.5) -> (672, -103)
  line L365 (672, -103) -> (695, -103)
  line L366 (695, -103) -> (695, -107.1363)
  arc A98 (692.2891, -110.9229) -> (695, -107.1363) centre (691, -107.1363) ccw
  line L367 (692.2891, -110.9229) -> (650.6445, -125.0997)
  arc A99 (648, -123.2064) -> (650.6445, -125.0997) centre (650, -123.2064) ccw
  line L368 (648, -123.2064) -> (648, -115)
  line L369 (648, -115) -> (649, -115)
  arc A100 (649, -115) -> (651, -113) centre (649, -113) ccw
  line L370 (651, -113) -> (651, -90)
  arc A101 (651, -90) -> (649, -88) centre (649, -90) ccw
  line L371 (649, -88) -> (648, -88)
  line L372 (648, -88) -> (648, -79.7936)
  arc A102 (650.6445, -77.9003) -> (648, -79.7936) centre (650, -79.7936) ccw
  line L373 (650.6445, -77.9003) -> (692.2891, -92.0771)
  arc A103 (695, -95.8637) -> (692.2891, -92.0771) centre (691, -95.8637) ccw
  line L374 (695, -95.8637) -> (695, -100)
  line L375 (695, -100) -> (672, -100)
  line L376 (672, -100) -> (672, -101.5)
  line L377 (671, 47.5) -> (671, 46)
  line L378 (671, 46) -> (694, 46)
  line L379 (694, 46) -> (694, 41.8637)
  arc A104 (691.2891, 38.0771) -> (694, 41.8637) centre (690, 41.8637) ccw
  line L380 (691.2891, 38.0771) -> (649.6445, 23.9003)
  arc A105 (647, 25.7936) -> (649.6445, 23.9003) centre (649, 25.7936) ccw
  line L381 (647, 25.7936) -> (647, 34)
  line L382 (647, 34) -> (648, 34)
  arc A106 (648, 34) -> (650, 36) centre (648, 36) ccw
  line L383 (650, 36) -> (650, 59)
  arc A107 (650, 59) -> (648, 61) centre (648, 59) ccw
  line L384 (648, 61) -> (647, 61)
  line L385 (647, 61) -> (647, 69.2064)
  arc A108 (649.6445, 71.0997) -> (647, 69.2064) centre (649, 69.2064) ccw
  line L386 (649.6445, 71.0997) -> (691.2891, 56.9229)
  arc A109 (694, 53.1363) -> (691.2891, 56.9229) centre (690, 53.1363) ccw
  line L387 (694, 53.1363) -> (694, 49)
  line L388 (694, 49) -> (671, 49)
  line L389 (671, 49) -> (671, 47.5)
  line L390 (692.5332, 13) -> (713, 13)
  line L391 (713, 13) -> (713, 28)
  line L392 (713, 28) -> (716, 28)
  line L393 (716, 28) -> (716, 37.1982)
  arc A110 (716, 37.1982) -> (710.5775, 40.9368) centre (712, 37.1982) ccw
  line L394 (710.5775, 40.9368) -> (655.7406, 20.0715)
  arc A111 (655.7406, 20.0715) -> (649.7575, 13.7252) centre (659.2969, 10.7252) ccw
  line L395 (649.7575, 13.7252) -> (659.2969, 13.7252)
  arc A112 (659.2969, 7.7252) -> (659.2969, 13.7252) centre (659.2969, 10.7252) ccw
  line L396 (659.2969, 7.7252) -> (649.2969, 7.7252)
  line L397 (649.2969, 7.7252) -> (649.2963, 1.7997)
  arc A113 (677.6446, -24) -> (649.2963, 1.7997) centre (649, -27) ccw
  line L398 (677.6446, -24) -> (686, -24)
  arc A114 (686.0452, -29.9997) -> (686, -24) centre (686, -27) ccw
  line L399 (686.0452, -29.9997) -> (677.6446, -29.9997)
  arc A115 (649.2975, -55.7997) -> (677.6446, -29.9997) centre (649, -27) ccw
  line L400 (649.2975, -55.7997) -> (649.2976, -61.7252)
  line L401 (649.2976, -61.7252) -> (659.2969, -61.7252)
  arc A116 (659.2969, -67.7252) -> (659.2969, -61.7252) centre (659.2969, -64.7252) ccw
  line L402 (659.2969, -67.7252) -> (649.7575, -67.7252)
  arc A117 (649.7575, -67.7252) -> (655.7406, -74.0715) centre (659.2969, -64.7252) ccw
  line L403 (655.7406, -74.0715) -> (710.5775, -94.9368)
  arc A118 (710.5775, -94.9368) -> (716, -91.1982) centre (712, -91.1982) ccw
  line L404 (716, -91.1982) -> (716, -82)
  line L405 (716, -82) -> (713, -82)
  line L406 (713, -82) -> (713, -67)
  line L407 (713, -67) -> (692.5332, -67)
  line L408 (692.5332, -67) -> (692.5332, -64)
  line L409 (692.5332, -64) -> (716, -64)
  line L410 (716, -64) -> (716, -34.5)
  line L411 (716, -34.5) -> (713, -34.5)
  line L412 (713, -34.5) -> (713, -19.5)
  line L413 (713, -19.5) -> (716, -19.5)
  line L414 (716, -19.5) -> (716, 10)
  line L415 (716, 10) -> (692.5332, 10)
  line L416 (692.5332, 10) -> (692.5332, 13)
  point P0 (0, 0)
  point P1 (461.0632, -21.5795)
  point P2 (593.1982, -27.002)
  point P3 (576.0715, 33.2574)
  point P4 (548.1018, 34.0716)
  point P5 (509.8984, 34.0712)
  point P6 (481.9285, 33.2574)
  point P7 (506, -5.002)
  point P8 (506, 22.998)
  point P9 (512, -5.002)
  point P10 (552, -5.002)
extrude "Extrusion2" add sketch "Sketch2" along normal blind 3 contours L263 A74 A75 A76 L264 A77 L265 A78 L266 L267 L268 L269 L270 L271 L272 L273 L274 L275 L276 L277 L278 A79 L279 A80
properties part number "soporte_lateral"
